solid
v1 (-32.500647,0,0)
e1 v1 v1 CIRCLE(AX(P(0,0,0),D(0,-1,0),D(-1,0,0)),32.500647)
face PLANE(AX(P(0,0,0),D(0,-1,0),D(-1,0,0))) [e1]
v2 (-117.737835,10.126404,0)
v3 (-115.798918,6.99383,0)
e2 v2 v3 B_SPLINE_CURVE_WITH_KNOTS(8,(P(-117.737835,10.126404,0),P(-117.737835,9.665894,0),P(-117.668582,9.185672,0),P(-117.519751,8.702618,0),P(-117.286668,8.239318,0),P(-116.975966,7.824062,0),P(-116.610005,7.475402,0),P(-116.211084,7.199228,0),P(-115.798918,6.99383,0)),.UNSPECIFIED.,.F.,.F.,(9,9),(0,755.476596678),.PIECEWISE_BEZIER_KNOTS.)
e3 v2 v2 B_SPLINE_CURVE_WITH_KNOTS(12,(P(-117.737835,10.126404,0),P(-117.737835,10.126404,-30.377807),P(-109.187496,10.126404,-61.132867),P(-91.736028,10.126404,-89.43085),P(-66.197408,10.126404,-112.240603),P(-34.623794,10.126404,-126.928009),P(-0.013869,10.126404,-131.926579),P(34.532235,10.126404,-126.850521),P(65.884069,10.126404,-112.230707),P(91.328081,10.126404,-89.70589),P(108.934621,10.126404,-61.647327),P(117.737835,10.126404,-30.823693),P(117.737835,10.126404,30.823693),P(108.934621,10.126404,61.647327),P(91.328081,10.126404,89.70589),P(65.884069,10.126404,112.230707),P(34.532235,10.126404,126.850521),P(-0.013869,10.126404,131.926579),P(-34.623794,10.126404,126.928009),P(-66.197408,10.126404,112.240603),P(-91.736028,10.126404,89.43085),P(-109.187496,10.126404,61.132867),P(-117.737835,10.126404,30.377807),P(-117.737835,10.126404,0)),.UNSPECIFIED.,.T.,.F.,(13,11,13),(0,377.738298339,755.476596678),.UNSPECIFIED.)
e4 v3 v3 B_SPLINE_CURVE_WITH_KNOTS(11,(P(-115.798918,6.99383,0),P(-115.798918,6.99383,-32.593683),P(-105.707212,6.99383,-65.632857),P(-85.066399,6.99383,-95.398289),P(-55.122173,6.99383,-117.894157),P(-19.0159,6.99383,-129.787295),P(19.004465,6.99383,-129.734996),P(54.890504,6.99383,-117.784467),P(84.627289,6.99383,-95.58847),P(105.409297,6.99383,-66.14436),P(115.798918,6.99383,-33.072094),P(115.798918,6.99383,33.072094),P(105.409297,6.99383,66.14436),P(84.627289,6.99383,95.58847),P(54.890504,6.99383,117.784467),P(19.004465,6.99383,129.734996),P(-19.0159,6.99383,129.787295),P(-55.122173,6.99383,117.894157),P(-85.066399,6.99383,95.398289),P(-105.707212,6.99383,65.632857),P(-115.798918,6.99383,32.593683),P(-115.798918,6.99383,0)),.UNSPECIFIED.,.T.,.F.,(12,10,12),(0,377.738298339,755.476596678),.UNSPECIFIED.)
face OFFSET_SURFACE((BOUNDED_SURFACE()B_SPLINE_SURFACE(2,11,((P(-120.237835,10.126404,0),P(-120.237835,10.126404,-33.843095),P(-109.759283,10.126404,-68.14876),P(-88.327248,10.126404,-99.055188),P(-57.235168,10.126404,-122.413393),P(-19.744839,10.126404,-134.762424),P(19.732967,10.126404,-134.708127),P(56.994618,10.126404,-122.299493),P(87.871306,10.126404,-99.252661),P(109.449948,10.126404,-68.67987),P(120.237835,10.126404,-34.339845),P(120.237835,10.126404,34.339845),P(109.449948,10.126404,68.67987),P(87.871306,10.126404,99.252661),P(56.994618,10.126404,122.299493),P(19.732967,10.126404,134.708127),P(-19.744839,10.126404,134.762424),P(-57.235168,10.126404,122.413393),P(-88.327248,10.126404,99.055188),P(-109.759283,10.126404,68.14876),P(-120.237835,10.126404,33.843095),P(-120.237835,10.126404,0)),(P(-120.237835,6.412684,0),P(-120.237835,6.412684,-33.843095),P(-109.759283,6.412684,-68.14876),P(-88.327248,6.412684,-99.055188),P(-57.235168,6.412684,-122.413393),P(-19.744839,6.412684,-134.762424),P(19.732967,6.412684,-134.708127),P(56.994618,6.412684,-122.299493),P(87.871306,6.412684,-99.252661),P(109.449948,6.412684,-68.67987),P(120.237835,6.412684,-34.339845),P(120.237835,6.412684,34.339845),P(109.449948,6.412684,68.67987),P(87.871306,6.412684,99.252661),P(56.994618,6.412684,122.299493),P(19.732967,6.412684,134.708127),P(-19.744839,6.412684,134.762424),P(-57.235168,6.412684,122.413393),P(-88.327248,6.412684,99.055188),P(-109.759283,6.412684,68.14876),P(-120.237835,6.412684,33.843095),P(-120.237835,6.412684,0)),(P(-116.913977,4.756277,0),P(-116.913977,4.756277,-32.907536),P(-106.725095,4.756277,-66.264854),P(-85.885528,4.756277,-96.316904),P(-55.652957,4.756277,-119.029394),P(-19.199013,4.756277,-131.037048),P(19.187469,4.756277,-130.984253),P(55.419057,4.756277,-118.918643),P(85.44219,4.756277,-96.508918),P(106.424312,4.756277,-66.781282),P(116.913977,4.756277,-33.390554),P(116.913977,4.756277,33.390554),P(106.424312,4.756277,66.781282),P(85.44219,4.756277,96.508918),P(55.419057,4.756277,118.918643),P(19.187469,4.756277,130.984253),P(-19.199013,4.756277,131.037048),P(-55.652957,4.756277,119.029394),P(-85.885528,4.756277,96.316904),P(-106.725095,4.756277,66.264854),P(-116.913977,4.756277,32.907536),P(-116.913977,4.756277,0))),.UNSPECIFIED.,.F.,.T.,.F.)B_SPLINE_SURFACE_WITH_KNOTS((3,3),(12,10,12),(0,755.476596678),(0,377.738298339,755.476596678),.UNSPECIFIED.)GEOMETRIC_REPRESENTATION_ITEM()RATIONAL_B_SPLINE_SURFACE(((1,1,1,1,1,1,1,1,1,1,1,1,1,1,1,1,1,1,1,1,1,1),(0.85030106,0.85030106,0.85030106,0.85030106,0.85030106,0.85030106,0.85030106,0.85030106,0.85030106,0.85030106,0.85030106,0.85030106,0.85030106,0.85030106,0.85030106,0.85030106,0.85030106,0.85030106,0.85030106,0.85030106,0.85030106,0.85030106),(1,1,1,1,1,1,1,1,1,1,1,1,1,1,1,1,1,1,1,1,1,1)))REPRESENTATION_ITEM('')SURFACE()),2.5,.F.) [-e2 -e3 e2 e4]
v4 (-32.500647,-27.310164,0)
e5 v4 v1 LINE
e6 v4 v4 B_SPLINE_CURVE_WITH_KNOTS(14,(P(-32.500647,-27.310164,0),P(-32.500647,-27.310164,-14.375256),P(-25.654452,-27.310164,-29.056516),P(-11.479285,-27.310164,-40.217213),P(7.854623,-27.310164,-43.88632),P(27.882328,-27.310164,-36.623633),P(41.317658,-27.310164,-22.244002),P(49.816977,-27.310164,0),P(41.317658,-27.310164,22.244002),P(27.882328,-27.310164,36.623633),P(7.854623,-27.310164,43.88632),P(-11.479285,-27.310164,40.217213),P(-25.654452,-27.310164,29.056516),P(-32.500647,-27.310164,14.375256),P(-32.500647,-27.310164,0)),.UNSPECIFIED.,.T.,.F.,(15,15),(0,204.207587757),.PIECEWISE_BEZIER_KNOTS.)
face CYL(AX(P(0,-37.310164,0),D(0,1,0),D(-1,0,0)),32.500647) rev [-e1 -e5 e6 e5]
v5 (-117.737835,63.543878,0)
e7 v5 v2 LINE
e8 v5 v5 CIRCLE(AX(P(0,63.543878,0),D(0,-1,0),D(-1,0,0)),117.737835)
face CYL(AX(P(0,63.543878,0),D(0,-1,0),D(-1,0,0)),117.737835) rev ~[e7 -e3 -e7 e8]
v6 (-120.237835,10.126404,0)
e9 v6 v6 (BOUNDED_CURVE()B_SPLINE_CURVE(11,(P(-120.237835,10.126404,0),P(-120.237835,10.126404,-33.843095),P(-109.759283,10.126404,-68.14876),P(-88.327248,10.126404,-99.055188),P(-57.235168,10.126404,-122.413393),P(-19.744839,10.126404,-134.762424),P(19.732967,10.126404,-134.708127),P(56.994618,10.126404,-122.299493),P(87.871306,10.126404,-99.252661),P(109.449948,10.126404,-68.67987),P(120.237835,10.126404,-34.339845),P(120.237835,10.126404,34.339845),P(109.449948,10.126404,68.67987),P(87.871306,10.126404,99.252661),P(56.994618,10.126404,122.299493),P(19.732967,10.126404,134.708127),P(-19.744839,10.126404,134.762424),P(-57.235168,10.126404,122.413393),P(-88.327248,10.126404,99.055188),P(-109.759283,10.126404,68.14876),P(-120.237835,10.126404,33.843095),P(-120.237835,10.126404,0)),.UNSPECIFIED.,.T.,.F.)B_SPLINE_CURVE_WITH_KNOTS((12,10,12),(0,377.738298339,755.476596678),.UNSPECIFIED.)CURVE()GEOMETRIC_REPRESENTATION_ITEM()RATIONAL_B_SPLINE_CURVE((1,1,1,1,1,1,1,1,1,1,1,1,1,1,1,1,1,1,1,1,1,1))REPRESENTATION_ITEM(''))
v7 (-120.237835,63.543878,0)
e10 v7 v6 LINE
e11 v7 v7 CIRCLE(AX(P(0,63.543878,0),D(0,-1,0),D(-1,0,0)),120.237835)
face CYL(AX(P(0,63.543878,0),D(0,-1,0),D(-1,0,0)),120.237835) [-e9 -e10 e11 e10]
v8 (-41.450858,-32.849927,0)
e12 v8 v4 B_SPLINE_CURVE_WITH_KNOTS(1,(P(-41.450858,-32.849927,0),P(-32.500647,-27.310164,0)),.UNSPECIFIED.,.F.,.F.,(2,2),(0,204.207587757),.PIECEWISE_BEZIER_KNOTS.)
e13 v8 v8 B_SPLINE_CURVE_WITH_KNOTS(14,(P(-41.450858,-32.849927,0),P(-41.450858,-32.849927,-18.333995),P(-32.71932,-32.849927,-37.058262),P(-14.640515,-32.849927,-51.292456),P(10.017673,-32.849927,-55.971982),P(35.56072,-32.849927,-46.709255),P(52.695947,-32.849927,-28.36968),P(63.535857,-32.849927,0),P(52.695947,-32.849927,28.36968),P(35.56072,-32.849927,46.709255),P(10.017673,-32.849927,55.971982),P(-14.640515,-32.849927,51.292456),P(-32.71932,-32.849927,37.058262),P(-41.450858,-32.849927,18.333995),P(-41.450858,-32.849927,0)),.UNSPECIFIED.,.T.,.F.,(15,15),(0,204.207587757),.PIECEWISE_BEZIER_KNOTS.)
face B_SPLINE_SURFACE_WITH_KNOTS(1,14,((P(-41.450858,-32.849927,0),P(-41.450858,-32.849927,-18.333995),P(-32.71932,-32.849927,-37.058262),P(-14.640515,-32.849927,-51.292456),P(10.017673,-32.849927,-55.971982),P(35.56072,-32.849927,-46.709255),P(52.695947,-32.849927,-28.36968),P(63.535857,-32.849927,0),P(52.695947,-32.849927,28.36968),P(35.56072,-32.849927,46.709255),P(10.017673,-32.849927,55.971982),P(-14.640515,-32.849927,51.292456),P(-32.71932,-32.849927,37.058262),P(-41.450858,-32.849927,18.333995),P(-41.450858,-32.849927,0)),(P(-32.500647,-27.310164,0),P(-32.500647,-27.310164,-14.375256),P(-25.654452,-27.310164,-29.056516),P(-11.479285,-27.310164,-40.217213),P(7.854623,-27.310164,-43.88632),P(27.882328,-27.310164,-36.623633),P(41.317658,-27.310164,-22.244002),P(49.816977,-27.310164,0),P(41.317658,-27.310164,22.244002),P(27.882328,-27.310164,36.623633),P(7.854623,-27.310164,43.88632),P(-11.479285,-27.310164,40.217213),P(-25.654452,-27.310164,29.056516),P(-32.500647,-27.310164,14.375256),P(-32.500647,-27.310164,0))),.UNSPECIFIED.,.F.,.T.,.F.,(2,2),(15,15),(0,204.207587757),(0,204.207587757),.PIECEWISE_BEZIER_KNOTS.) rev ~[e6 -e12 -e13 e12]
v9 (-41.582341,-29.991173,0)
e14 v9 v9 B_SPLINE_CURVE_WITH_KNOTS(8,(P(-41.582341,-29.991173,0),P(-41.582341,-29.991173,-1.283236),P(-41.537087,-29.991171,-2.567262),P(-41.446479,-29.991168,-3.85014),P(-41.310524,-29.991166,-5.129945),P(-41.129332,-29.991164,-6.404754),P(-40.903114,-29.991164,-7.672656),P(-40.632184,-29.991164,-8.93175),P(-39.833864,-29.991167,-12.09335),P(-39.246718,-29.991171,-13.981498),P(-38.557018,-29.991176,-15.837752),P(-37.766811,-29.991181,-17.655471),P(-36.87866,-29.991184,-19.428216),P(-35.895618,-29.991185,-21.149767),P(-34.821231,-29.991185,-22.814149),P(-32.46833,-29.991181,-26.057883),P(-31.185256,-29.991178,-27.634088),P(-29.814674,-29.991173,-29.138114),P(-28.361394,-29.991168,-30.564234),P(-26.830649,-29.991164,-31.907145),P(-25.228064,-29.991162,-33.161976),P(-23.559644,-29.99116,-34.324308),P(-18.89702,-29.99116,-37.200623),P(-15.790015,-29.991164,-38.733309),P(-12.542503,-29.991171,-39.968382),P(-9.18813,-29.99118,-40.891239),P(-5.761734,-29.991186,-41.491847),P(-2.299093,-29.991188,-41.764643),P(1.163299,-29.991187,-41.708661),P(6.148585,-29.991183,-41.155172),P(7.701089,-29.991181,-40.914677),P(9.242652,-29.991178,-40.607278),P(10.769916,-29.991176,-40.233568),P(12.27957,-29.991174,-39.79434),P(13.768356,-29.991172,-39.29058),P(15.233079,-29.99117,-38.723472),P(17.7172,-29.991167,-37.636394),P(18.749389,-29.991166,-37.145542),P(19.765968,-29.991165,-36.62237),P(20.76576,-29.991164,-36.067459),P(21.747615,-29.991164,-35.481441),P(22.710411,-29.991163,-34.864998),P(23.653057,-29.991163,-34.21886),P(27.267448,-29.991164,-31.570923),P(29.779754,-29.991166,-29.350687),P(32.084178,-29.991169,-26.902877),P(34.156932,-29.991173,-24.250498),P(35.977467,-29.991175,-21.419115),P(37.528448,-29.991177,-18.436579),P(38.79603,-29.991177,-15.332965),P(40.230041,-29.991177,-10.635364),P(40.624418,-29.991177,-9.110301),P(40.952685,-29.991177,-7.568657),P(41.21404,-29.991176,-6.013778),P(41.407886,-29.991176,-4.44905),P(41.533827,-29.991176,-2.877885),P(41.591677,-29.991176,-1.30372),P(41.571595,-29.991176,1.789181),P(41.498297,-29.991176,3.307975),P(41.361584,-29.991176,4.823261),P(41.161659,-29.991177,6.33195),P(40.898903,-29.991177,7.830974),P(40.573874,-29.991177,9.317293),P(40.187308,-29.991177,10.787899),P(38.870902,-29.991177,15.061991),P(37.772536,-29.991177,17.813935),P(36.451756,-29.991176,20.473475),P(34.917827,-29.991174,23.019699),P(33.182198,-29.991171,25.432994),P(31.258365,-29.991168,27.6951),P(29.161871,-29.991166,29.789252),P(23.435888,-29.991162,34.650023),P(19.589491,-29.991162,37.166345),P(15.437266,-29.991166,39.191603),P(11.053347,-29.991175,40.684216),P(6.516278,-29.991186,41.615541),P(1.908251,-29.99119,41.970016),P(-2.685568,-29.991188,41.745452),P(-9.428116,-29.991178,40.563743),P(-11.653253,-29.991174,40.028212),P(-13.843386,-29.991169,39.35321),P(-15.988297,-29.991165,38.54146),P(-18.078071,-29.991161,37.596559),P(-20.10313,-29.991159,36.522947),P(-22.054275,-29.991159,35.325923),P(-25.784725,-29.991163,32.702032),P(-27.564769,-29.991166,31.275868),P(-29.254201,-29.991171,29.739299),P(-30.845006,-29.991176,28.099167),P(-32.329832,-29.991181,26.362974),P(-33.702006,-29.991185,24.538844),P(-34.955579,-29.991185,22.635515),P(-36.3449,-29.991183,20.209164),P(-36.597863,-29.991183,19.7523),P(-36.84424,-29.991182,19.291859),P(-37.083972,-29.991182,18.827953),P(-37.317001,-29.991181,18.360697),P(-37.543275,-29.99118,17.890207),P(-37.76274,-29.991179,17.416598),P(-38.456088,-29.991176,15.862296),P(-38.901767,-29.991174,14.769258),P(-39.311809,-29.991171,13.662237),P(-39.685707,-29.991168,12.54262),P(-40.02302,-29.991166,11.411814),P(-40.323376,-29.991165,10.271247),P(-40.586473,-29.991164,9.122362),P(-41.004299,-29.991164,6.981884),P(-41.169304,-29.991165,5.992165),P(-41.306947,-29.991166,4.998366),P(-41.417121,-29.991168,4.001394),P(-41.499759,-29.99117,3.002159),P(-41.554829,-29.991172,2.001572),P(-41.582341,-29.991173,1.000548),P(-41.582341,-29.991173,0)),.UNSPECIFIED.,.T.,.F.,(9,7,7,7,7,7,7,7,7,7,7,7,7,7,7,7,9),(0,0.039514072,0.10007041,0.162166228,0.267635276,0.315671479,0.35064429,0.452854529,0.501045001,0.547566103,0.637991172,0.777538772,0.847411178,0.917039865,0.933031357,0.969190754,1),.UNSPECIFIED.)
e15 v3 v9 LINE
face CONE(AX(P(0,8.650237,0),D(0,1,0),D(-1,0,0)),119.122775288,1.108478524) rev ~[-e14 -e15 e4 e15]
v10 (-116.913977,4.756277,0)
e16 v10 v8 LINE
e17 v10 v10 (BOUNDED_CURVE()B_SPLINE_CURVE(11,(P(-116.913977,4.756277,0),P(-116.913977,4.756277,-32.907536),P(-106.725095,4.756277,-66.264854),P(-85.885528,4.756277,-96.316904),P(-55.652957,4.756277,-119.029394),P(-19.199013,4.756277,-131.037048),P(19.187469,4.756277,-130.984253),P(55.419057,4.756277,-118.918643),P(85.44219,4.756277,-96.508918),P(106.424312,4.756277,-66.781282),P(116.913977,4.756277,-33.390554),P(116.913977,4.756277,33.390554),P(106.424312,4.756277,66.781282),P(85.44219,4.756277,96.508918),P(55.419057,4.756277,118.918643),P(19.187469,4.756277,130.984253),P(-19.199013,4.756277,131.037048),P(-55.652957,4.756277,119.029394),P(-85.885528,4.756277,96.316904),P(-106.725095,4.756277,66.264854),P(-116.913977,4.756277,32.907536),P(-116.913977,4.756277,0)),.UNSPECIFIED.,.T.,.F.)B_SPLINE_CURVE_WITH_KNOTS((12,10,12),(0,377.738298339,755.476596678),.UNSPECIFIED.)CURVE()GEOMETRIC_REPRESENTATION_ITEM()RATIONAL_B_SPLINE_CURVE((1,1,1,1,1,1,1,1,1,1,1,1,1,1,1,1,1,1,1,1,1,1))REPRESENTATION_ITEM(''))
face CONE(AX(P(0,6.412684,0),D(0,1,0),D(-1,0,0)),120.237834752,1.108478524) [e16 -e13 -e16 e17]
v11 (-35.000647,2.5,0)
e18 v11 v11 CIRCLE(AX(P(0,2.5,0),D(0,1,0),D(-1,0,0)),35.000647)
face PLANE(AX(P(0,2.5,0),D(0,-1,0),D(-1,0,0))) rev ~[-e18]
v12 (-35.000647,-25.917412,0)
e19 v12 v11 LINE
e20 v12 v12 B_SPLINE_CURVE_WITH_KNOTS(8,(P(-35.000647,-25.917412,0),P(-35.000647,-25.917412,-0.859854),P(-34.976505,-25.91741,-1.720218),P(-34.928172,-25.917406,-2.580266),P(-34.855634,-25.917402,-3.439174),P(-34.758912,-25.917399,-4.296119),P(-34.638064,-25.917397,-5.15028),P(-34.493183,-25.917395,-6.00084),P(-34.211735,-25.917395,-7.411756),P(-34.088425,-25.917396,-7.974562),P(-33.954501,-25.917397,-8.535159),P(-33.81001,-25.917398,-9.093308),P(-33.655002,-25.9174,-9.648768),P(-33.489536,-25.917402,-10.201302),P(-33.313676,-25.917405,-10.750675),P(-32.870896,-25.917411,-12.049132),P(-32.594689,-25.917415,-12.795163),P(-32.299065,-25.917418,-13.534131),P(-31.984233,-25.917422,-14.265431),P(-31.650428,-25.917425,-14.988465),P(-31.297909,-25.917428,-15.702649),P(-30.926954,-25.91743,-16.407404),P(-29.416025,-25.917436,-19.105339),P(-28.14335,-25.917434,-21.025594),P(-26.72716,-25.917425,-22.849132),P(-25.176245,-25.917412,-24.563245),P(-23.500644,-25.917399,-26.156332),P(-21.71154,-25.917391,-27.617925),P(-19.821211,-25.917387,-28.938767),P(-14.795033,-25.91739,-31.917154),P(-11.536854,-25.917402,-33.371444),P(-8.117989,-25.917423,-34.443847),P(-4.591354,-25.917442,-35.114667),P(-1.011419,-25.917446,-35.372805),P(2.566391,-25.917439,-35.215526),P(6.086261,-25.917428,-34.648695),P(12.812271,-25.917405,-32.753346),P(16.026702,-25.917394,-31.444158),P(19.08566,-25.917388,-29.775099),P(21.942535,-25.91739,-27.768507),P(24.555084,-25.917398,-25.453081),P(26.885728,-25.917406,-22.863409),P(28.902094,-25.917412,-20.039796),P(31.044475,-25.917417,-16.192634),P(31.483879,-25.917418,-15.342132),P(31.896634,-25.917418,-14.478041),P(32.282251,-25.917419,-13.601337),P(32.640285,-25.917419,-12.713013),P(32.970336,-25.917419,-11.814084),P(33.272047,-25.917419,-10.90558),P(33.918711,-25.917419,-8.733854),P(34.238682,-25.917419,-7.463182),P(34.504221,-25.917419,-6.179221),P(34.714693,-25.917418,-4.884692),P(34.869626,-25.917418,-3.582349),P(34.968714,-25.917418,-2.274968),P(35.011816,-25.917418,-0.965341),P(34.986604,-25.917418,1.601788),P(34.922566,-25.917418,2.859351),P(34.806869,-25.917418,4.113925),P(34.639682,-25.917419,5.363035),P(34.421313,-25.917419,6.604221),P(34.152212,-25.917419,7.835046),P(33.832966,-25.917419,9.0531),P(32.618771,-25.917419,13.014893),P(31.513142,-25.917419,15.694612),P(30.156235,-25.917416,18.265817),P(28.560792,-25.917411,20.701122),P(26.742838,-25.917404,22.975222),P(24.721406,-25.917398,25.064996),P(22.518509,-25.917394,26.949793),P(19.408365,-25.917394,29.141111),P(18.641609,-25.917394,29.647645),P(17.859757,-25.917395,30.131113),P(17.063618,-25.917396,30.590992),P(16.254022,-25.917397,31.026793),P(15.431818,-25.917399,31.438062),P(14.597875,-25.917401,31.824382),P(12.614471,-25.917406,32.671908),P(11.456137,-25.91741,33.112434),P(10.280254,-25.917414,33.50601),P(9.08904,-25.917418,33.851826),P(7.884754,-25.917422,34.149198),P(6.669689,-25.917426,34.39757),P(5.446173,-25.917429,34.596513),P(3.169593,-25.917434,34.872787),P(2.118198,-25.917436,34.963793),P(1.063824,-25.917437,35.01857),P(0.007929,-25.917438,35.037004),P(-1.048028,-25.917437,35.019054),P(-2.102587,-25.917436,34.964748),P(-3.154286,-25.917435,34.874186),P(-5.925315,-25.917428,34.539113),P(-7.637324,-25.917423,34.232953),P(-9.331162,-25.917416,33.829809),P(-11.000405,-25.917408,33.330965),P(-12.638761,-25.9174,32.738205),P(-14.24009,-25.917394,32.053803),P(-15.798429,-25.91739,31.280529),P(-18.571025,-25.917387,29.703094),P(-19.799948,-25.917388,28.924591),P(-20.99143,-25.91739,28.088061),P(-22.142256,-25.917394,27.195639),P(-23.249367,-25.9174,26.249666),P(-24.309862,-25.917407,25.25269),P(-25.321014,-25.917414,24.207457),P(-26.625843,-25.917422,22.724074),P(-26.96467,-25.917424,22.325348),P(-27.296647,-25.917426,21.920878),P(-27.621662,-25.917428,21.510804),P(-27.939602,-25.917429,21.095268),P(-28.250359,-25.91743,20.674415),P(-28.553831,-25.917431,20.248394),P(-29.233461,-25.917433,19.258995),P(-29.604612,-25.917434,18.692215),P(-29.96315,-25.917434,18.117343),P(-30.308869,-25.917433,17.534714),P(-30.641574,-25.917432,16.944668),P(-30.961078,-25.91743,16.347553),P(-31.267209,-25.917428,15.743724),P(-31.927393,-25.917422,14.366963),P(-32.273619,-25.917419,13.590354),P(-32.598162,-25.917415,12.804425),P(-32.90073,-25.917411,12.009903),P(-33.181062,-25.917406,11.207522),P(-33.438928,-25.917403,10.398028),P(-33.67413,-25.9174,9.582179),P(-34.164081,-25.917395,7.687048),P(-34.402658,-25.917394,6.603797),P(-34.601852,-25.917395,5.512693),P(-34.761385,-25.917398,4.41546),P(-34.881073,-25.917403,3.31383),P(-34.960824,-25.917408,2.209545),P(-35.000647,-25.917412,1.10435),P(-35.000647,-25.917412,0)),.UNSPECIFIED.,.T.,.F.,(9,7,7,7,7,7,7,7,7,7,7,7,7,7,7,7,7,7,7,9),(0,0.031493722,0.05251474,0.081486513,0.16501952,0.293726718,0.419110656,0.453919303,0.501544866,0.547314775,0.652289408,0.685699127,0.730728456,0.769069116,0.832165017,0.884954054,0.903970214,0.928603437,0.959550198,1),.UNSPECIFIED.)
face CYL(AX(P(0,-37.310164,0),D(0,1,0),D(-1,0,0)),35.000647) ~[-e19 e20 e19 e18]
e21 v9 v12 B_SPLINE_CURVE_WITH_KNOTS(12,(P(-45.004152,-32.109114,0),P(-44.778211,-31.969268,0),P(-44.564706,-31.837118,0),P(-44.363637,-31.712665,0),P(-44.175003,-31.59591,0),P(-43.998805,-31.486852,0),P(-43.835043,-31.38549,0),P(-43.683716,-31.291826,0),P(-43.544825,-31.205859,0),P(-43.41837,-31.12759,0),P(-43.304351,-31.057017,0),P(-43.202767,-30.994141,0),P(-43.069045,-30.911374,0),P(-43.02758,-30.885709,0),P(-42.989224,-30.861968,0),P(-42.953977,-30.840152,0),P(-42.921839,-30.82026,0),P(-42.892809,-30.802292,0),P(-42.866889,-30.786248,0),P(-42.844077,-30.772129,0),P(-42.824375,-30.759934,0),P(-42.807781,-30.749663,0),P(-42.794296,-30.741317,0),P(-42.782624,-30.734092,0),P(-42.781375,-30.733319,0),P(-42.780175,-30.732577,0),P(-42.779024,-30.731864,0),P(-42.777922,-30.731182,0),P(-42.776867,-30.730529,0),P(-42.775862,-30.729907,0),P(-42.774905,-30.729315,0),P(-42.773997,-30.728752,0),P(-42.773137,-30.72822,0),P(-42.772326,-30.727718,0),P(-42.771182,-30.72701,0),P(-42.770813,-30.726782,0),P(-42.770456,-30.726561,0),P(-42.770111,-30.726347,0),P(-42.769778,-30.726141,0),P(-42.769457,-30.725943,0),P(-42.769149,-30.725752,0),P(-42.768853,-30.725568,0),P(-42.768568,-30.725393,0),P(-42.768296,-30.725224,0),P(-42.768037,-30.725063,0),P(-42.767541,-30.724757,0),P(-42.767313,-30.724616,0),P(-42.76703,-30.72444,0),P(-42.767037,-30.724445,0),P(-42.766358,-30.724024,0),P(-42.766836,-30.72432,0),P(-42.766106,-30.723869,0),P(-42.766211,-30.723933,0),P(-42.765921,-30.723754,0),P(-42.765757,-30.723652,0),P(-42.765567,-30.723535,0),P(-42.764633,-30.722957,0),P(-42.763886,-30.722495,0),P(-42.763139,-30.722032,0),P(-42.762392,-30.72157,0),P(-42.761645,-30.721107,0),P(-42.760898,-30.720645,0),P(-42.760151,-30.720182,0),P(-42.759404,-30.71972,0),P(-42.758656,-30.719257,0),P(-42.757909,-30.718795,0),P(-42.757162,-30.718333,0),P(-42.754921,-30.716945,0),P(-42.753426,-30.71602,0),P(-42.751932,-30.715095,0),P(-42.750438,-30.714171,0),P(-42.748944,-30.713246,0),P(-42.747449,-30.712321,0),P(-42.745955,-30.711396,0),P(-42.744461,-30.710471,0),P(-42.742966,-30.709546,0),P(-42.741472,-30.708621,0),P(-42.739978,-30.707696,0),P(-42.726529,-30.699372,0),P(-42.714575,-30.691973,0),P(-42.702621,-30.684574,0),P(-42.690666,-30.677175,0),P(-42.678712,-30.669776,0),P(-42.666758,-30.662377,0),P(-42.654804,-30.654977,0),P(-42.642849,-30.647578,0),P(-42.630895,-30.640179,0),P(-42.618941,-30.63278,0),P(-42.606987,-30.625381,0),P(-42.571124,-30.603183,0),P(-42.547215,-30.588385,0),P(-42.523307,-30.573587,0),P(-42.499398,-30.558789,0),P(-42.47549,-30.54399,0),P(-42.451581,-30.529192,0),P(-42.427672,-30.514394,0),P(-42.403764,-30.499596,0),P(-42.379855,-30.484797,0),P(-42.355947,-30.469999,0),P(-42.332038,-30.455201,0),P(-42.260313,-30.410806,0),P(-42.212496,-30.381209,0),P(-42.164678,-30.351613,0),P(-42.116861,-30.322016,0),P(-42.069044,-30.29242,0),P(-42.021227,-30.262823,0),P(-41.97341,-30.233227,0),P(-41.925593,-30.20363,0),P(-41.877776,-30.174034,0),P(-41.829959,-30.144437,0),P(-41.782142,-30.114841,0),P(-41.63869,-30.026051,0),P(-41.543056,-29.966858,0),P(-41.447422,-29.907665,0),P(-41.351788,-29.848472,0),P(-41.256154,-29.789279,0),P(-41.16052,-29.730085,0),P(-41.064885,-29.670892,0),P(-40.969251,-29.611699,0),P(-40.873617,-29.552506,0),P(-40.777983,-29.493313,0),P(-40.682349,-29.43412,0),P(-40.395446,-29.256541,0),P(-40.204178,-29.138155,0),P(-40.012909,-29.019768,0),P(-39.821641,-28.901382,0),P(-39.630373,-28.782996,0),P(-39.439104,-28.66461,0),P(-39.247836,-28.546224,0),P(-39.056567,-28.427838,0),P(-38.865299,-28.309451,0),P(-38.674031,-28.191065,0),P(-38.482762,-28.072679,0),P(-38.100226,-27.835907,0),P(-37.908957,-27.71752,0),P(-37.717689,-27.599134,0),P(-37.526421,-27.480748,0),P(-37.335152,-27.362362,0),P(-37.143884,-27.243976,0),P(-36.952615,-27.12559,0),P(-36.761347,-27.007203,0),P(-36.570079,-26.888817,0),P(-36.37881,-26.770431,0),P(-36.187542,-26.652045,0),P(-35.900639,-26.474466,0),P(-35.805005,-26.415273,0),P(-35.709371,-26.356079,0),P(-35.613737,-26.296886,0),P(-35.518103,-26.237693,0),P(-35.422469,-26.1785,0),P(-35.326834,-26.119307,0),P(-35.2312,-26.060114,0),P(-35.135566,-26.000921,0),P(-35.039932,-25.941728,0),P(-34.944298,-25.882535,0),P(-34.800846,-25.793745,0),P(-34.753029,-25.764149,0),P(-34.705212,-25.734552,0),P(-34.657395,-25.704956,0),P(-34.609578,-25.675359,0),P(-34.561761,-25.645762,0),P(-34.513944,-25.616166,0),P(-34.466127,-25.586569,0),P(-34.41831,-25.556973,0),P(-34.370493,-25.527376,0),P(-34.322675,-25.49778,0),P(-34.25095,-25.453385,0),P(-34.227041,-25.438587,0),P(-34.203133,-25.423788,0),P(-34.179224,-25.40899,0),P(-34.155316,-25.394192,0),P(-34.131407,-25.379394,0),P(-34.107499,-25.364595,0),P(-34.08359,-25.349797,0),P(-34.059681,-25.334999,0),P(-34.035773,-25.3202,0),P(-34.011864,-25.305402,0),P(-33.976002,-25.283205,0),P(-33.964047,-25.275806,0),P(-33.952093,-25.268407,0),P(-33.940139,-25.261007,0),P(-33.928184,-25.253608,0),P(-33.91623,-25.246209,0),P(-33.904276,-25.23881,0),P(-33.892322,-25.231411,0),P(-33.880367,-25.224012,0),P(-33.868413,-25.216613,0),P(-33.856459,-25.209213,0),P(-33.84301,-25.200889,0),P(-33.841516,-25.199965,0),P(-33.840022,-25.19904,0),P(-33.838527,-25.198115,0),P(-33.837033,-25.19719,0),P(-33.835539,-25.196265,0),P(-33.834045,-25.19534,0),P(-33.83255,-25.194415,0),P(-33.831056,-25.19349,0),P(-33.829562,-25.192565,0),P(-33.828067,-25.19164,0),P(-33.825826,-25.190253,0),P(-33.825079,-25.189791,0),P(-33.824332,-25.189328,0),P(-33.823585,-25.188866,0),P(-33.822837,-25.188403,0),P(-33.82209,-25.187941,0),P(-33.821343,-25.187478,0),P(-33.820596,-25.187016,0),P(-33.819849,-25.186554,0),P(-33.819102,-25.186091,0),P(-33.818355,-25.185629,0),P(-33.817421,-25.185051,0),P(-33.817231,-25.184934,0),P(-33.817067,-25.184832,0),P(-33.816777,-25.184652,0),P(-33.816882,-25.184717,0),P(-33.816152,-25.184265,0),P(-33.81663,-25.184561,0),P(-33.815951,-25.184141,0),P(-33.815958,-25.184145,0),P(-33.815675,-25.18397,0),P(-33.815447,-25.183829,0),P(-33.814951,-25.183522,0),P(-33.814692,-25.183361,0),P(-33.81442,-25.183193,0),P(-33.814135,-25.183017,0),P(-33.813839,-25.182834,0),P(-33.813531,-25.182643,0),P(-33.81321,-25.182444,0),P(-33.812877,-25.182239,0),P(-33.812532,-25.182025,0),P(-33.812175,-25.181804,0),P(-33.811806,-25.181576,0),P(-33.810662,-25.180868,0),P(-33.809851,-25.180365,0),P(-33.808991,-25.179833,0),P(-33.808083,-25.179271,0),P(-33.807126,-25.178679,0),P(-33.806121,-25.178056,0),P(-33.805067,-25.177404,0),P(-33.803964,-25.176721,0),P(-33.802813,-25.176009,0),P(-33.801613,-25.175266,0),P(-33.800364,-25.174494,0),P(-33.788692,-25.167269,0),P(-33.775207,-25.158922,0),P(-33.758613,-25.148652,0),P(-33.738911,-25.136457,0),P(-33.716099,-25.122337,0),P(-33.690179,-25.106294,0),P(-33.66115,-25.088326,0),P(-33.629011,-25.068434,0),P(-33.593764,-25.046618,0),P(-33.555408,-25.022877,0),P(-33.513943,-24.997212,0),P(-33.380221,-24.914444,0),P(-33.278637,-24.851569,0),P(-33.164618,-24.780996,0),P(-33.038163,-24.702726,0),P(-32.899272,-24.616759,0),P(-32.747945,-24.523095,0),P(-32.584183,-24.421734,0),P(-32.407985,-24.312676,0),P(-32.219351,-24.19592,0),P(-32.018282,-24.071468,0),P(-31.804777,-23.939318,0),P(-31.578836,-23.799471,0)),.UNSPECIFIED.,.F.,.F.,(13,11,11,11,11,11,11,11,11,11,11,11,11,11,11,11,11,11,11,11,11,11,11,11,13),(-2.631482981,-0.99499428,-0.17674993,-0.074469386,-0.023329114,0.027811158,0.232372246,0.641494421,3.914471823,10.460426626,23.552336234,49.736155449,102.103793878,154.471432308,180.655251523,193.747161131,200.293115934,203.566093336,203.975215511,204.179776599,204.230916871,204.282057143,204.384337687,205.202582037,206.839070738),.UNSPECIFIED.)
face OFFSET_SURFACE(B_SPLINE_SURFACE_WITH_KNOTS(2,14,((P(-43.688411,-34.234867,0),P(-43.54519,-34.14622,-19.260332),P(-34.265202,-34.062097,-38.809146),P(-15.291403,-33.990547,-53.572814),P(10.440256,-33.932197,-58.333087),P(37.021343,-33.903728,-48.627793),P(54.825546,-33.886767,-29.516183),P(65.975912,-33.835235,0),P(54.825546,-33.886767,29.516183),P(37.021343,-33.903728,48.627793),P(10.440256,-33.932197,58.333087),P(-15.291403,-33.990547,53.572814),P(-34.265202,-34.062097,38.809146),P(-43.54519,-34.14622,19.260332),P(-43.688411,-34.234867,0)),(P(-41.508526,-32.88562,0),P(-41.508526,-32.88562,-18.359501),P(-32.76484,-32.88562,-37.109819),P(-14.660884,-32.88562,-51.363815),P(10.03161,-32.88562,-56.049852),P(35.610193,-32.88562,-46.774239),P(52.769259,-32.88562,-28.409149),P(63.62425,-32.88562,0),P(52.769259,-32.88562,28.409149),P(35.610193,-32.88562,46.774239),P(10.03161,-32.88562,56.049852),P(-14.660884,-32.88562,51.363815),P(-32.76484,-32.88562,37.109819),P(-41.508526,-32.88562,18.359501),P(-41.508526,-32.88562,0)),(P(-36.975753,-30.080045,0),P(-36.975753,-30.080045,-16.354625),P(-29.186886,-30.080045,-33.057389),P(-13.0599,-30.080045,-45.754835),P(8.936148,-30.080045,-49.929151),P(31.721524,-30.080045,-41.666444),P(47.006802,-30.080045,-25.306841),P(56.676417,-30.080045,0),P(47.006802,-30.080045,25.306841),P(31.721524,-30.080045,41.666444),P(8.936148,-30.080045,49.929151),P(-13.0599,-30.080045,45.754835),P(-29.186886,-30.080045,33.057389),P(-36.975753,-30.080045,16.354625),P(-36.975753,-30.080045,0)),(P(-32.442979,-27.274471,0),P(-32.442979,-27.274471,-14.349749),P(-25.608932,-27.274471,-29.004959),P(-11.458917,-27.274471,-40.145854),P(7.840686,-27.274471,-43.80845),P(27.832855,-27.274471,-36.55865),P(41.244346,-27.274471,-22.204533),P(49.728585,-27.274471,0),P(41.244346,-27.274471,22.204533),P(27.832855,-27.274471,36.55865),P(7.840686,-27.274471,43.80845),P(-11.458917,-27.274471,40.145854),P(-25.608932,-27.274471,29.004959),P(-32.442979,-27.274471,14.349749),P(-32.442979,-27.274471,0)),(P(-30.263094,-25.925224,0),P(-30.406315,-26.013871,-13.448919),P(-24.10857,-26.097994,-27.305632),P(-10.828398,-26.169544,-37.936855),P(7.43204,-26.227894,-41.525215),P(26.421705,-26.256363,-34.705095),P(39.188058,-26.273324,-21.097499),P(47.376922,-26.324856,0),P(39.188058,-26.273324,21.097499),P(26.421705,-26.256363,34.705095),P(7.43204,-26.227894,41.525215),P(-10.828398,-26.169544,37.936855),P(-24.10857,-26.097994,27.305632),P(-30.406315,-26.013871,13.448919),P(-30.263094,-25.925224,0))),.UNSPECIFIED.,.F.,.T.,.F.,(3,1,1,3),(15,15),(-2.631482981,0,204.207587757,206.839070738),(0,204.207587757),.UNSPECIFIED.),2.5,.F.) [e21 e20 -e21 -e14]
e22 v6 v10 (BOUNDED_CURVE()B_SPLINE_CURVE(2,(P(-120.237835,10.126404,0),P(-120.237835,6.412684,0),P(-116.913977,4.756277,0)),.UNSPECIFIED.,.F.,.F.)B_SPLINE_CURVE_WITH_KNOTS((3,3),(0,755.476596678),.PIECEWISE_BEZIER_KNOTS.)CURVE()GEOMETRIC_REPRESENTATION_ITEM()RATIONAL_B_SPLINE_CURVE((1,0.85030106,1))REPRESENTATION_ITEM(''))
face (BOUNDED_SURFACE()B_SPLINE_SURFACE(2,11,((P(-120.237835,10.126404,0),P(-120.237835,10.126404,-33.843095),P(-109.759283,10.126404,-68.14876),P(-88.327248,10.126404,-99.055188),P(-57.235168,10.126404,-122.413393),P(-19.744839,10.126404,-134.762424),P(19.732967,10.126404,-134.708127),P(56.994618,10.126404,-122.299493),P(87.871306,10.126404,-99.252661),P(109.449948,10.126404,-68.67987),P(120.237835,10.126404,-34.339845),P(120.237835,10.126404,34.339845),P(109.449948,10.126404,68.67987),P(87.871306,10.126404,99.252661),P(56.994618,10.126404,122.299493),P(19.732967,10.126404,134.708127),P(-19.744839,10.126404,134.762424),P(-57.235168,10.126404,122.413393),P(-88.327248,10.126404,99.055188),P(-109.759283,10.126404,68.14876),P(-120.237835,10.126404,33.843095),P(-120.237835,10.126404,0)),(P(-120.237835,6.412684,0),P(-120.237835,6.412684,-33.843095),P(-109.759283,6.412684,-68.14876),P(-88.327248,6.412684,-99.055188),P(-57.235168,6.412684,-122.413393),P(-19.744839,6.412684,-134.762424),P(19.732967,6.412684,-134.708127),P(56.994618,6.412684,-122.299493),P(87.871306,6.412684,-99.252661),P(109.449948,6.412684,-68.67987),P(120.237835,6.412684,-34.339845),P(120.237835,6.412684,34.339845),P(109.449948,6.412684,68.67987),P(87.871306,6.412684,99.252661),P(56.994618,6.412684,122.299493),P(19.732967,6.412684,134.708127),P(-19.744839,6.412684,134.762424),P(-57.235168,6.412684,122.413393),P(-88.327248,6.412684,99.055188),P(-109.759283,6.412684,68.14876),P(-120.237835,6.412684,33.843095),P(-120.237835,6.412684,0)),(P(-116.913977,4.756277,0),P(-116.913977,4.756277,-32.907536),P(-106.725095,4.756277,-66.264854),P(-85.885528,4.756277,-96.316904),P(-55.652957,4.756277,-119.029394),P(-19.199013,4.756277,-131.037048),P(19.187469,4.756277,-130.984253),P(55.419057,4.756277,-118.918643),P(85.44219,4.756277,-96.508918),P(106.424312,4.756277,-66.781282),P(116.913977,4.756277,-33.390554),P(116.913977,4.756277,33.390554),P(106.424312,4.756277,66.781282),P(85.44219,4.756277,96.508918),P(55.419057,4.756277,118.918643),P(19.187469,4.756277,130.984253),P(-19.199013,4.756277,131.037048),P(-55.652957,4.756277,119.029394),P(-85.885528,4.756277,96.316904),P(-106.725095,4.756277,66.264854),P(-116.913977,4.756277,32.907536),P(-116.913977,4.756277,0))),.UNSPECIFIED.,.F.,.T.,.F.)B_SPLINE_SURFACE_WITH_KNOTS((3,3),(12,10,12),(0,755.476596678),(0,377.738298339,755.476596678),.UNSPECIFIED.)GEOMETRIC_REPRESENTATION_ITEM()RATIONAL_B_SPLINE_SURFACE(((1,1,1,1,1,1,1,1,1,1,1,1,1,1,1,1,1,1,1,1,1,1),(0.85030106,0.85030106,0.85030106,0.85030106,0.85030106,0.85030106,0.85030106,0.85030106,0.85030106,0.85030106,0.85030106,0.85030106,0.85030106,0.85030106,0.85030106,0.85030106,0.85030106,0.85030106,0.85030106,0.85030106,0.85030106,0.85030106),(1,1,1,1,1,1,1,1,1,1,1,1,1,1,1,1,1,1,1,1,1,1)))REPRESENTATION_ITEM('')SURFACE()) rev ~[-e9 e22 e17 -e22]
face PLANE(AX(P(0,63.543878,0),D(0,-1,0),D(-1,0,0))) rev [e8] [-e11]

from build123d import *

# Parameters (mm, degrees)
F2_R    = 6
F3_SIZE = 10
F4_T    = -2.5


with BuildPart() as f1:
    # F0 (on Top) → F1 (revolve)
    with BuildSketch(Plane.XY):
        Polygon((-120.2378347516, 63.5438784957), (-120.2378347516, 6.4126844518), (-32.5006470084, -37.3101644218), (-32.5006470084, 0), (0, 0), (0, 63.5438784957), align=None)
    revolve(axis=Axis((0, 18.9465675503, 0), (0, -1, 0)))

    # F2
    f2_edges = [f1.edges().sort_by_distance(p)[0] for p in [
        (120.237835, 6.412684, 0),
    ]]
    fillet(f2_edges, radius=F2_R)

    # F3
    f3_edges = [f1.edges().sort_by_distance(p)[0] for p in [
        (32.500647, -37.310164, 0),
    ]]
    chamfer(f3_edges, length=F3_SIZE)

    # F4
    f4_openings = [f1.faces().sort_by_distance(p)[0] for p in [
        (0, 63.543878, 0),
    ]]
    offset(amount=F4_T, openings=f4_openings, kind=Kind.INTERSECTION)


solid = f1.part
